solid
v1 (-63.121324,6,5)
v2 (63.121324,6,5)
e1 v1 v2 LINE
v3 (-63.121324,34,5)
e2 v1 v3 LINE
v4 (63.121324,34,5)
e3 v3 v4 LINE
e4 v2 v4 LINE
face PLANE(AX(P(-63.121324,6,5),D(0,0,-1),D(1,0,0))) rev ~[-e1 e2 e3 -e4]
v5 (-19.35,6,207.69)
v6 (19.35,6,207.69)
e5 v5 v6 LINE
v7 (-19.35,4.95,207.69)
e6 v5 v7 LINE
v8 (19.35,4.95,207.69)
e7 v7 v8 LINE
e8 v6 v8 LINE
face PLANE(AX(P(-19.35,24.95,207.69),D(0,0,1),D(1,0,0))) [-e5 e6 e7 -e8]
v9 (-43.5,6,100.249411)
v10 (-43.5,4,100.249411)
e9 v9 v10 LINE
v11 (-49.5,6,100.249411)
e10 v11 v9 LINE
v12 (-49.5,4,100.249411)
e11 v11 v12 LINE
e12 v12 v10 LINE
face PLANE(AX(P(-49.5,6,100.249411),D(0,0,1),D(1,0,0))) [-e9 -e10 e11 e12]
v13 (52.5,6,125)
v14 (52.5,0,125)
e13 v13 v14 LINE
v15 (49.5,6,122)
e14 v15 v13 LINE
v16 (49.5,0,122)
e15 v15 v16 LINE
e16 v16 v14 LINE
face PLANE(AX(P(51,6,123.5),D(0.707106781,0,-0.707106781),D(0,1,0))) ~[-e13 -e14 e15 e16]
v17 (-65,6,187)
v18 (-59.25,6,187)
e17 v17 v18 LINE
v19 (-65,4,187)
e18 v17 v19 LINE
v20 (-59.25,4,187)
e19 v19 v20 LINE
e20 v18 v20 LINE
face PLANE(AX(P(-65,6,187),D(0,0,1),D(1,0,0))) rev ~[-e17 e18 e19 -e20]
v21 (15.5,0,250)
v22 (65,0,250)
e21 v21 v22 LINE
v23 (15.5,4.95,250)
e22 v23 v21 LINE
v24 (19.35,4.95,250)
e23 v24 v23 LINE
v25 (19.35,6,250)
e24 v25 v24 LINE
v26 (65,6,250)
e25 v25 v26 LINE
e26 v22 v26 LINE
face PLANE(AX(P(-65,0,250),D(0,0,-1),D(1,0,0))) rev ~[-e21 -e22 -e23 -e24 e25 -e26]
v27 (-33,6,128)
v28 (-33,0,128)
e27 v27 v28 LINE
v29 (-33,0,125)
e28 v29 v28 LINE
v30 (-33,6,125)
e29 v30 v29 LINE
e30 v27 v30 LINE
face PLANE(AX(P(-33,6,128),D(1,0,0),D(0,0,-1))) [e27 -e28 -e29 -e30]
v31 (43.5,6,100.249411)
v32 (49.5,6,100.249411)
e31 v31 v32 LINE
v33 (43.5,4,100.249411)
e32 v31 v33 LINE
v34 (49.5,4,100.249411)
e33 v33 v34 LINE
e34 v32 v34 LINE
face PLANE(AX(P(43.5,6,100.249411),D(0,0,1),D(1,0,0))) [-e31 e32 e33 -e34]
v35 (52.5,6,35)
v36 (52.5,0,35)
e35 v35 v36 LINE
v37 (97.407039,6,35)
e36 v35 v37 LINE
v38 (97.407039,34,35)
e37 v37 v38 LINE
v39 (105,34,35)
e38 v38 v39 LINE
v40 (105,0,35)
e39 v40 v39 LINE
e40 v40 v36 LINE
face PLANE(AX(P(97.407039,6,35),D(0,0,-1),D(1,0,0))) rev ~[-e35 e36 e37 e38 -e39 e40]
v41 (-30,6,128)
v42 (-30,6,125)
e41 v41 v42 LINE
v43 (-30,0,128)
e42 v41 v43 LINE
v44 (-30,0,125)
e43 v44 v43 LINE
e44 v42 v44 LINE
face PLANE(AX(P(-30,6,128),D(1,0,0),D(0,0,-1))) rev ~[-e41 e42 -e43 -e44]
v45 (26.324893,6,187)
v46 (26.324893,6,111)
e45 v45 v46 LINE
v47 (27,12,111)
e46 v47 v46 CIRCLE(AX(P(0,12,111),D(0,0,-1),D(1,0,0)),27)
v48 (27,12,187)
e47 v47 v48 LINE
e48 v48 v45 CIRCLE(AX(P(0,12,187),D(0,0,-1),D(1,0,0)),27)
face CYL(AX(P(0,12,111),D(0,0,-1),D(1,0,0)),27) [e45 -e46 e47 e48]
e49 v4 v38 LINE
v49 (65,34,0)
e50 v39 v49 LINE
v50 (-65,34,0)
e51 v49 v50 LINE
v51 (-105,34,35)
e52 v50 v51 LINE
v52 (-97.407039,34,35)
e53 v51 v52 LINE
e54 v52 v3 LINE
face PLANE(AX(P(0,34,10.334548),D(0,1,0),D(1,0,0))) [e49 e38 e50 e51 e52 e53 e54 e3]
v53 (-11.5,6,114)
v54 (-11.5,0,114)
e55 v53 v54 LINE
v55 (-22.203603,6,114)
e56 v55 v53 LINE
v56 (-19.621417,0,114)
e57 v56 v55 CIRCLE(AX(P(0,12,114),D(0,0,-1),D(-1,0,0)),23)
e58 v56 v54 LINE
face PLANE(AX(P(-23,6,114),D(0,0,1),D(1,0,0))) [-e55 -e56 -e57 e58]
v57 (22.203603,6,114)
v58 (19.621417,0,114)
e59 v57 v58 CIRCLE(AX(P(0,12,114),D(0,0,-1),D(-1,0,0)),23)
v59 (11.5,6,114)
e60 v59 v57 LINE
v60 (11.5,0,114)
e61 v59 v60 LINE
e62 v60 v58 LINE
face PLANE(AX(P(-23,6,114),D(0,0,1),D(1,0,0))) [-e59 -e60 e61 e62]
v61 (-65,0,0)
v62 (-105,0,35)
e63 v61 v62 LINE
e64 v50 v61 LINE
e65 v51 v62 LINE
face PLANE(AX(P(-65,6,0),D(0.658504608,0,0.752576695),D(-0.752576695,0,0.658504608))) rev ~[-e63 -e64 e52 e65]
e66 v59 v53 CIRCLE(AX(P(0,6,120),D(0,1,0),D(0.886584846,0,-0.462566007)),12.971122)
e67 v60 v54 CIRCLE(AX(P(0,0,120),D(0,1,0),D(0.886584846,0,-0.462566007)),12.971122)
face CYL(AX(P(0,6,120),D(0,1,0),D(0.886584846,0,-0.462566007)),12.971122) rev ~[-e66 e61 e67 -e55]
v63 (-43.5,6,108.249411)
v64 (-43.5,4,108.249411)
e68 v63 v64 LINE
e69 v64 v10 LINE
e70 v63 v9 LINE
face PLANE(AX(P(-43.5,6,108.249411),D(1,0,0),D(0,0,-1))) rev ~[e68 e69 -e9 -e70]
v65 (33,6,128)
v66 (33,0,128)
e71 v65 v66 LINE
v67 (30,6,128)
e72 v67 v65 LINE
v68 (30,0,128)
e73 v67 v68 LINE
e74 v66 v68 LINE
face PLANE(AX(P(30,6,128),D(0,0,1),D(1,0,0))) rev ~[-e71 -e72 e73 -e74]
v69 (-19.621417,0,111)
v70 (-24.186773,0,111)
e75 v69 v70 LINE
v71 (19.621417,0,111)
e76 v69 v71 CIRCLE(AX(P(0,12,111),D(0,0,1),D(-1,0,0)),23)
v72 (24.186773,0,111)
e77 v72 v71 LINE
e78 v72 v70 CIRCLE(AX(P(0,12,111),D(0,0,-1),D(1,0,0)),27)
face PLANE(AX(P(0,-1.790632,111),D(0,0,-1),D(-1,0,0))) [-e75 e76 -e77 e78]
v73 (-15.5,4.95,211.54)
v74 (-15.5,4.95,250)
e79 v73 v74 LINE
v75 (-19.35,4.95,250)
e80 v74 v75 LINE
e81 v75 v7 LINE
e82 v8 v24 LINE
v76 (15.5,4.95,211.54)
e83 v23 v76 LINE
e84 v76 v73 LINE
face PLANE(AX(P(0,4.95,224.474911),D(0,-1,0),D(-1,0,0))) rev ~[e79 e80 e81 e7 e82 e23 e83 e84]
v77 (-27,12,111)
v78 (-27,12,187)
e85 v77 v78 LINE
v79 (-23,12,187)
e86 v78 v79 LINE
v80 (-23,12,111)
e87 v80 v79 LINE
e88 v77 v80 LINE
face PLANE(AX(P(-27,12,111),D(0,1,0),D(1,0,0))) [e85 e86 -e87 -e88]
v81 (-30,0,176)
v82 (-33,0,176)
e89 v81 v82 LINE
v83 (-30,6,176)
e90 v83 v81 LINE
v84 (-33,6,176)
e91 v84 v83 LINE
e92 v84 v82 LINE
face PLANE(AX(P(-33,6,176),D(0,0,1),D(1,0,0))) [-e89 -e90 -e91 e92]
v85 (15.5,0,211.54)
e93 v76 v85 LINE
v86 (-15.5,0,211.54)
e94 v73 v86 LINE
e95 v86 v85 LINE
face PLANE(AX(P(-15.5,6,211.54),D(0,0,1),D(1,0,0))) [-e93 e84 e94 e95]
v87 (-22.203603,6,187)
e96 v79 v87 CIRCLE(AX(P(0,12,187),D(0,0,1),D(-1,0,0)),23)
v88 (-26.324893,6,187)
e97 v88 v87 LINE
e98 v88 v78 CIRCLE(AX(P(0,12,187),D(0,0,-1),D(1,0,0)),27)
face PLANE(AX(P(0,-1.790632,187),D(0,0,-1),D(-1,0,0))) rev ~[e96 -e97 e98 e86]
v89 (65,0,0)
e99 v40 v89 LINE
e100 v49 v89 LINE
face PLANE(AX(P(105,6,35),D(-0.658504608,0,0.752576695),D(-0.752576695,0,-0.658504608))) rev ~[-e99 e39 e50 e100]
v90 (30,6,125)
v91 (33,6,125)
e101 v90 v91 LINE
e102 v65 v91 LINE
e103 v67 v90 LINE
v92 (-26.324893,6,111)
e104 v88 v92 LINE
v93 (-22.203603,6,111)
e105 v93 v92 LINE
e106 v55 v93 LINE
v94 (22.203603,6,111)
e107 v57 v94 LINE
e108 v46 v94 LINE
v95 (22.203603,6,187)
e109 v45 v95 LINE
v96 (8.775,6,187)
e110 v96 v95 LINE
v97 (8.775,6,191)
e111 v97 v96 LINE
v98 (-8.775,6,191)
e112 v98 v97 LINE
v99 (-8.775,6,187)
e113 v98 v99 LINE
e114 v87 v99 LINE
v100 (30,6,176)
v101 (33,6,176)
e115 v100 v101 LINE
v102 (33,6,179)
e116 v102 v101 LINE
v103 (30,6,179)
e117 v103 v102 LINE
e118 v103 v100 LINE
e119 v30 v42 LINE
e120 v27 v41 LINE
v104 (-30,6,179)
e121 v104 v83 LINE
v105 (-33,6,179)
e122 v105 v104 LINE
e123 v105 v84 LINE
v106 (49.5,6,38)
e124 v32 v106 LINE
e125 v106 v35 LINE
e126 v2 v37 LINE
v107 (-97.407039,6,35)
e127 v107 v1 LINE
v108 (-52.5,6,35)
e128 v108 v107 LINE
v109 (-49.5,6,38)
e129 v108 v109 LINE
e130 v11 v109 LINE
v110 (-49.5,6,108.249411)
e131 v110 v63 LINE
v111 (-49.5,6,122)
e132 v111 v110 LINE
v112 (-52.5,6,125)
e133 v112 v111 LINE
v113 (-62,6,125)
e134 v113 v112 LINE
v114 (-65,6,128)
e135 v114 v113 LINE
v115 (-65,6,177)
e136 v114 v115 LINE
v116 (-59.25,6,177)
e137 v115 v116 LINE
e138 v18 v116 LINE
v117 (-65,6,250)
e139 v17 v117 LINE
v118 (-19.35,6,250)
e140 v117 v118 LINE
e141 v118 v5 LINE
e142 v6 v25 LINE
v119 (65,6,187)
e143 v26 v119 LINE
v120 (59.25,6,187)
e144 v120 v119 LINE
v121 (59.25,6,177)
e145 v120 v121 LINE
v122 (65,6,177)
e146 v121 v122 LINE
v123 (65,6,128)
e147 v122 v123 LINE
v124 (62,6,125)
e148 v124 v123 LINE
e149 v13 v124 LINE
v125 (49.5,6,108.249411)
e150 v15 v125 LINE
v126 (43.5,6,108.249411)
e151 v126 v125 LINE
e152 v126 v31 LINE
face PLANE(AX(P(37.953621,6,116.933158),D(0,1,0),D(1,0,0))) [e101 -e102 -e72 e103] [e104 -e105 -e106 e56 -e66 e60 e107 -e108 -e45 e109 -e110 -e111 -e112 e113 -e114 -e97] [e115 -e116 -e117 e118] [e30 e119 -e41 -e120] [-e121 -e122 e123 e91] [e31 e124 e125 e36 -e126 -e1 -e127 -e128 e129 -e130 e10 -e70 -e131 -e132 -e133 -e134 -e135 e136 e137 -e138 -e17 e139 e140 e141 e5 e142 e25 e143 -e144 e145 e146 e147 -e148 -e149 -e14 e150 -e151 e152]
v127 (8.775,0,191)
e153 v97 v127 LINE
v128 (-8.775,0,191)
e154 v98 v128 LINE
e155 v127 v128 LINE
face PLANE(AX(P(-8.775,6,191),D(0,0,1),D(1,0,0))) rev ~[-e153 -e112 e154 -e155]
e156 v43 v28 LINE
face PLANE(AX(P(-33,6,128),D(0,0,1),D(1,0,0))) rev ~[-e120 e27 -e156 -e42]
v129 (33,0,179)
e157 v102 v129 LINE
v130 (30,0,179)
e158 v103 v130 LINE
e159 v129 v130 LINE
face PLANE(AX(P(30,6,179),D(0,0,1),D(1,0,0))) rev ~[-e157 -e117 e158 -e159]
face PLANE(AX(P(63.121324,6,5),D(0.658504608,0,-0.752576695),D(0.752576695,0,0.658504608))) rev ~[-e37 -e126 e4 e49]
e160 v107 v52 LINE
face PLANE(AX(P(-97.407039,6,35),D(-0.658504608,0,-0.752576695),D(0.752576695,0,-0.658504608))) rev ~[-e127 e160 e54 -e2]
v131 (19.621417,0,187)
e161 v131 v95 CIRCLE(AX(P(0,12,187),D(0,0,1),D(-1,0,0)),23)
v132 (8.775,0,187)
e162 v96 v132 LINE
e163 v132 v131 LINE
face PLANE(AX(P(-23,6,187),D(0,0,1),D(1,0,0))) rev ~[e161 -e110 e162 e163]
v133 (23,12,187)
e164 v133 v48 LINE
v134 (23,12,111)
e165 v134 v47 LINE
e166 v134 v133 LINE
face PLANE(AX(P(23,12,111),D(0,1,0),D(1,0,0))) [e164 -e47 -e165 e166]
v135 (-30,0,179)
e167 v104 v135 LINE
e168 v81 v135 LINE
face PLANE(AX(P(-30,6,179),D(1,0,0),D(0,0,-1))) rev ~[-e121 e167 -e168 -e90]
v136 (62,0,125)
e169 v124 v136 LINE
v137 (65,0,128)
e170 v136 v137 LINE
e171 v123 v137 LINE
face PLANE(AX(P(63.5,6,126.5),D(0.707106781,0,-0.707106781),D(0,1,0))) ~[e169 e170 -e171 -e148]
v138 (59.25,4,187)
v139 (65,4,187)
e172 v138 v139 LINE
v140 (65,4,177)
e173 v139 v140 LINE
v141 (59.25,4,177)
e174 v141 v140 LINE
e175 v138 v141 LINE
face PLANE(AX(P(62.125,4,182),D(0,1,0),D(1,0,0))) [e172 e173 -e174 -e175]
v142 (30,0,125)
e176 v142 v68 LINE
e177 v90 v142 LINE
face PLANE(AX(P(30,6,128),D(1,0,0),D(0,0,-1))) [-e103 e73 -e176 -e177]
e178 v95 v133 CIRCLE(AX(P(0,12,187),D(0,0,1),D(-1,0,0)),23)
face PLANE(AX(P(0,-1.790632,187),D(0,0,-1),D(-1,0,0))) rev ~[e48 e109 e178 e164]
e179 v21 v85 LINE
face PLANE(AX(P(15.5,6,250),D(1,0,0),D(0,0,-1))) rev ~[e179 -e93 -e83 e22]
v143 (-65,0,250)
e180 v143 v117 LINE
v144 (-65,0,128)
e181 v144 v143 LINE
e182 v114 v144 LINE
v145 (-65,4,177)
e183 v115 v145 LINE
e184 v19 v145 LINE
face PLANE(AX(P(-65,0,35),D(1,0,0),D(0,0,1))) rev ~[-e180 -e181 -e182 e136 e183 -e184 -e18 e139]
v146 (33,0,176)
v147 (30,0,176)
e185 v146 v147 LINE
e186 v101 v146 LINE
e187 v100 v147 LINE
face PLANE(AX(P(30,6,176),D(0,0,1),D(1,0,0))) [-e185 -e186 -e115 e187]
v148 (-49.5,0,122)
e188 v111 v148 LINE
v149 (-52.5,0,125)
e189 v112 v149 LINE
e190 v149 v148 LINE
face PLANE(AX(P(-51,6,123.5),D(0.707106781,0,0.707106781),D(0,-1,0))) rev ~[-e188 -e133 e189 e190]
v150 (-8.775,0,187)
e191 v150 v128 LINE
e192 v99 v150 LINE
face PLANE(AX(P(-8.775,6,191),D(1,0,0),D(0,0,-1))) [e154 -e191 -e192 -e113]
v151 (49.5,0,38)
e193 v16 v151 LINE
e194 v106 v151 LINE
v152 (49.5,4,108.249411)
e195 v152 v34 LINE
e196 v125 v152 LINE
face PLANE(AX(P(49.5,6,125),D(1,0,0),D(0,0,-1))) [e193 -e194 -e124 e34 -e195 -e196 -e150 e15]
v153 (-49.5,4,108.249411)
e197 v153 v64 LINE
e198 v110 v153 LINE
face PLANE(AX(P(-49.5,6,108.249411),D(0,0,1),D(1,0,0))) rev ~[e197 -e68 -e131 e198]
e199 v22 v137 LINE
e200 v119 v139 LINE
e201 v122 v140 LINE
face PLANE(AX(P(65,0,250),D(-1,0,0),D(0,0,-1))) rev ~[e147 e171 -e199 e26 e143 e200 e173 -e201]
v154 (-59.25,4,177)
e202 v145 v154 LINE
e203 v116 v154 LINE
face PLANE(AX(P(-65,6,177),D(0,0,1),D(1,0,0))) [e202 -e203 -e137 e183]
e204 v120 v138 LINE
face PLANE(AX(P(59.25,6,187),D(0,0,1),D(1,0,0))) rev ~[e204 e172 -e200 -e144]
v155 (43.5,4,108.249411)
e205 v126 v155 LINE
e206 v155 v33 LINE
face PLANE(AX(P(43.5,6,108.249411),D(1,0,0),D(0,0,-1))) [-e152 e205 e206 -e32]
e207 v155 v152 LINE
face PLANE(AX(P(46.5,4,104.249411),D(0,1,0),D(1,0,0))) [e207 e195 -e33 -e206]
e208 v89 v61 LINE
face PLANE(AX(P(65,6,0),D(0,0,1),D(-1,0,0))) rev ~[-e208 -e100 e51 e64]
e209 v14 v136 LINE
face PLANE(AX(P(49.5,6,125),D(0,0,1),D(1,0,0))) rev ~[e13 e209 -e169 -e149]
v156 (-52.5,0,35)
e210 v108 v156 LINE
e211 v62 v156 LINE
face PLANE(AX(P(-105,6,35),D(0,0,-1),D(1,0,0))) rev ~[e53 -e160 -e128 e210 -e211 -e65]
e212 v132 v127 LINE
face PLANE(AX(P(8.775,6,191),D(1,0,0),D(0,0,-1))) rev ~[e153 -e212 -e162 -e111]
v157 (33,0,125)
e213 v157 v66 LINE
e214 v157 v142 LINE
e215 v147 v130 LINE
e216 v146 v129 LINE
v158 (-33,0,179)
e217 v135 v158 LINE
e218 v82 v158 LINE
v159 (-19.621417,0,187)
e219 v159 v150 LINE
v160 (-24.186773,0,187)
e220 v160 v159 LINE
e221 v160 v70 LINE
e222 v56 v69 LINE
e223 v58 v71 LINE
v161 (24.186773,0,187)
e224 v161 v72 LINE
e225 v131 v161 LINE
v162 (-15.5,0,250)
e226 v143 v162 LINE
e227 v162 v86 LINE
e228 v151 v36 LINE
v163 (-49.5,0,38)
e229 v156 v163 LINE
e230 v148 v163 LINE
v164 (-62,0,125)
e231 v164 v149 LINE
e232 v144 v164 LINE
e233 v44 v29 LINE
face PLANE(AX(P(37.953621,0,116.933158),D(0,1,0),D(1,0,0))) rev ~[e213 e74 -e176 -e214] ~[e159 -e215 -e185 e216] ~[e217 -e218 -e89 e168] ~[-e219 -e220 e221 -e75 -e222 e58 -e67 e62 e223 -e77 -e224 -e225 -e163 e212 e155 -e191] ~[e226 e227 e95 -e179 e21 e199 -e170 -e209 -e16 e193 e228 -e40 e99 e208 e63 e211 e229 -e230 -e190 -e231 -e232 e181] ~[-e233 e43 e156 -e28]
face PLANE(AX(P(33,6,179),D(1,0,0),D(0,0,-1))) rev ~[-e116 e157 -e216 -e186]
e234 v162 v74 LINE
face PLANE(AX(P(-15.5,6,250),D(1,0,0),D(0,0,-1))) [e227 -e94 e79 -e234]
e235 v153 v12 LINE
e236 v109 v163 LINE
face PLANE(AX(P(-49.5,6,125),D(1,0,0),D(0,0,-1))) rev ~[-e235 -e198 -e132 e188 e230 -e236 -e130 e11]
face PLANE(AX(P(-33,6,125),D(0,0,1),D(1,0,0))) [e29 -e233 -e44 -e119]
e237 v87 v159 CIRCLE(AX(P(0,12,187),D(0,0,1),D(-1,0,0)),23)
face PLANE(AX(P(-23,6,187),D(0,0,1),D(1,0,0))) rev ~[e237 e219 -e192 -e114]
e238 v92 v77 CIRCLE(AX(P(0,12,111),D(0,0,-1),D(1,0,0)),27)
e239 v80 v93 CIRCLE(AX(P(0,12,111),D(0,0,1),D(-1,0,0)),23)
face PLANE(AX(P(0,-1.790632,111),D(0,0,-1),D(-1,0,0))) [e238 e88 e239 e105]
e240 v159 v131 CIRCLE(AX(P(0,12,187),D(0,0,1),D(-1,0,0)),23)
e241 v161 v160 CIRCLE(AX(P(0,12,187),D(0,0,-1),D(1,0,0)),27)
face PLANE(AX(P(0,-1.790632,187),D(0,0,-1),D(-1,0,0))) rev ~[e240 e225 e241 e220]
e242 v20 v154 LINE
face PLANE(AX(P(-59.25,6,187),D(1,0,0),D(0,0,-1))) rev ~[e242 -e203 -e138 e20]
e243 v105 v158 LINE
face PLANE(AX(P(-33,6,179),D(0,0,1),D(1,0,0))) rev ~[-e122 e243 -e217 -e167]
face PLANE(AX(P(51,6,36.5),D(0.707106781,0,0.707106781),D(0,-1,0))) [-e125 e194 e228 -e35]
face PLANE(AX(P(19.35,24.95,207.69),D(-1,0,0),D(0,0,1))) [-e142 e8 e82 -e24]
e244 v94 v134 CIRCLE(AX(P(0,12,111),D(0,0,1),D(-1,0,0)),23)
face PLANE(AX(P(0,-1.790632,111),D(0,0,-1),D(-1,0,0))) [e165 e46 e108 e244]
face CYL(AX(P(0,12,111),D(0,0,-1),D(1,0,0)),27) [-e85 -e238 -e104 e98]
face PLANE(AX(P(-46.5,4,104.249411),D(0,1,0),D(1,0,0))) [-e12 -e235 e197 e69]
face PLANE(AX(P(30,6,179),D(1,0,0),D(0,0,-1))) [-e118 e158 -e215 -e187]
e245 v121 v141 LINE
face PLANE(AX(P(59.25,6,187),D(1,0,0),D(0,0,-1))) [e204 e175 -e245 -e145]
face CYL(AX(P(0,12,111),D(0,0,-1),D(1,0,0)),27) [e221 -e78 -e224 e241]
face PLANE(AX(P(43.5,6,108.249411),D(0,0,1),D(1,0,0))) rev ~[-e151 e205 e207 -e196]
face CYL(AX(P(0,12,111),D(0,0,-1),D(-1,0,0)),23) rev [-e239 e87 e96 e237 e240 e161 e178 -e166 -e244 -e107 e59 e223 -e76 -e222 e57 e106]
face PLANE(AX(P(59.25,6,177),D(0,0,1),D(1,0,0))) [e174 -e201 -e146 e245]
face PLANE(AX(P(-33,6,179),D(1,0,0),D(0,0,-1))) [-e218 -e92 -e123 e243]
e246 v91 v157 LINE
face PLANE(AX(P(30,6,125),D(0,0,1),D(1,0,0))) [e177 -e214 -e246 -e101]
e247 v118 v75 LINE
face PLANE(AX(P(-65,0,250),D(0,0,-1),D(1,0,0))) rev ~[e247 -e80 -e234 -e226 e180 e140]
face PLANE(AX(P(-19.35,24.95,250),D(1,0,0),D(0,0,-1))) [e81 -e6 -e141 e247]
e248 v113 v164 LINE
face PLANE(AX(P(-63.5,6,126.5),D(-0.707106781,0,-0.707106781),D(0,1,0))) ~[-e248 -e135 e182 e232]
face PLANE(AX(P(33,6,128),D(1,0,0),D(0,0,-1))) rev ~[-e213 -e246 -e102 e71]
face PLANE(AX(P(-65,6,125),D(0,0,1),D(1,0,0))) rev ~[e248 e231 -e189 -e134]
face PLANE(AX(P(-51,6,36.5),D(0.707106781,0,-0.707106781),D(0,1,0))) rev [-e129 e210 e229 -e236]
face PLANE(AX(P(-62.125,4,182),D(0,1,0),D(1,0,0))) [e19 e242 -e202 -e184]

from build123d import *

# Parameters (mm, degrees)
BOSS_EXTRUDE1_DEPTH      = 6
BOSS_EXTRUDE2_DEPTH      = 28
SKETCH5_W                = 15.5
SKETCH5_H                = 90
CUT_EXTRUDE2_DEPTH       = 273.596771808
CHAMFER2_SIZE            = 3
SKETCH8_W                = 46
SKETCH8_H                = 73
CUT_EXTRUDE4_DEPTH       = 23
BOSS_EXTRUDE5_DEPTH      = 73
BOSS_EXTRUDE5_DEPTH_BACK = 3
BOSS_EXTRUDE5_START      = 114
BOSS_EXTRUDE6_DEPTH      = 18.95
SKETCH11_W               = 31
SKETCH11_H               = 38.46
CUT_EXTRUDE5_DEPTH       = 19.03
CUT_EXTRUDE7_START       = 18.95
CUT_EXTRUDE7_DEPTH       = 20
CUT_EXTRUDE8_REACH       = 274.597
CUT_EXTRUDE9_REACH       = 274.597
SKETCH13_W               = 17.55
SKETCH13_H               = 4
CUT_EXTRUDE10_REACH      = 274.597
SKETCH14_W               = 3
SKETCH14_H               = 3
SKETCH15_W               = 6
SKETCH15_H               = 8
SKETCH15_W_2             = 5.75
SKETCH15_H_2             = 10
CUT_EXTRUDE11_DEPTH      = 2


with BuildPart() as part:
    # Sketch1 → Boss-Extrude1 (new body)
    with BuildSketch(Plane(origin=(0, 0, 0), x_dir=(1, 0, 0), z_dir=(0, 1, 0))):
        Polygon((105, -35), (65, 0), (0, 0), (0, -250), (65, -250), (65, -35), align=None)
        Polygon((0, -250), (0, 0), (-65, 0), (-105, -35), (-65, -35), (-65, -250), align=None)
    extrude(amount=BOSS_EXTRUDE1_DEPTH)

    # Sketch2 → Boss-Extrude2 (add)
    with BuildSketch(Plane(origin=(0, 6, 0), x_dir=(1, 0, 0), z_dir=(0, 1, 0))):
        Polygon((-105, -35), (-97.407038705, -35), (-63.121324419, -5), (63.121324419, -5), (97.407038705, -35), (105, -35), (65, 0), (-65, 0), align=None)
    extrude(amount=BOSS_EXTRUDE2_DEPTH)

    # Sketch5 → Cut-Extrude2 (cut, through all)
    with BuildSketch(Plane(origin=(0, 6, 0), x_dir=(1, 0, 0), z_dir=(0, 1, 0))):
        with Locations((-57.25, -80)):
            Rectangle(SKETCH5_W, SKETCH5_H)
        with Locations((57.25, -80)):
            Rectangle(SKETCH5_W, SKETCH5_H)
    extrude(amount=-CUT_EXTRUDE2_DEPTH, mode=Mode.SUBTRACT)

    # Chamfer2
    chamfer2_edges = [part.edges().sort_by_distance(p)[0] for p in [
        (-65, 3, 125),
        (-49.5, 3, 35),
        (-49.5, 3, 125),
        (65, 3, 125),
        (49.5, 3, 125),
        (49.5, 3, 35),
    ]]
    chamfer(chamfer2_edges, length=CHAMFER2_SIZE)

    # Sketch8 → Cut-Extrude4 (cut)
    with BuildSketch(Plane(origin=(0, 6, 0), x_dir=(1, 0, 0), z_dir=(0, 1, 0))):
        with Locations((0, -150.5)):
            Rectangle(SKETCH8_W, SKETCH8_H)
    extrude(amount=-CUT_EXTRUDE4_DEPTH, mode=Mode.SUBTRACT)

    # Sketch9 → Boss-Extrude5 (add, two sides: drawn at the far end of the back side and taken through both)
    with BuildSketch(Plane.XY.offset(BOSS_EXTRUDE5_START - BOSS_EXTRUDE5_DEPTH_BACK)):
        with BuildLine():
            Line((-27, 12), (-23, 12))
            ThreePointArc((-23, 12), (0, -11), (23, 12))
            Line((23, 12), (27, 12))
            ThreePointArc((27, 12), (0, -15), (-27, 12))
        make_face()
    extrude(amount=BOSS_EXTRUDE5_DEPTH + BOSS_EXTRUDE5_DEPTH_BACK)

    # Sketch10 → Boss-Extrude6 (add)
    with BuildSketch(Plane(origin=(0, 6, 0), x_dir=(1, 0, 0), z_dir=(0, 1, 0))):
        Polygon((-19.35, -250), (-19.35, -207.69), (19.35, -207.69), (19.35, -250), (15.5, -250), (15.5, -211.54), (-15.5, -211.54), (-15.5, -250), align=None)
    extrude(amount=BOSS_EXTRUDE6_DEPTH)

    # Sketch11 → Cut-Extrude5 (cut)
    with BuildSketch(Plane(origin=(0, 6, 0), x_dir=(1, 0, 0), z_dir=(0, 1, 0))):
        with Locations((0, -230.77)):
            Rectangle(SKETCH11_W, SKETCH11_H)
    extrude(amount=-CUT_EXTRUDE5_DEPTH, mode=Mode.SUBTRACT)

    # Sketch10<3> → Cut-Extrude7 (cut)
    with BuildSketch(Plane(origin=(0, 6, 0), x_dir=(1, 0, 0), z_dir=(0, 1, 0)).offset(CUT_EXTRUDE7_START)):
        Polygon((-19.35, -250), (-19.35, -207.69), (19.35, -207.69), (19.35, -250), (15.5, -250), (15.5, -211.54), (-15.5, -211.54), (-15.5, -250), align=None)
    extrude(amount=-CUT_EXTRUDE7_DEPTH, mode=Mode.SUBTRACT)

    # Sketch12 → Cut-Extrude8 (cut, up to next)
    with BuildSketch(Plane(origin=(0, 6, 0), x_dir=(1, 0, 0), z_dir=(0, 1, 0)), mode=Mode.PRIVATE) as cut_extrude8_sk1:
        with BuildLine():
            Line((-11.5, -114), (11.5, -114))
            ThreePointArc((11.5, -114), (0, -107.028878229), (-11.5, -114))
        make_face()
    cut_extrude8_tool1 = extrude(cut_extrude8_sk1.sketch, amount=-CUT_EXTRUDE8_REACH, mode=Mode.PRIVATE) & part.part
    add(cut_extrude8_tool1.solids().sort_by_distance((0, 6, 111.135325))[0], mode=Mode.SUBTRACT)

    # Sketch13 → Cut-Extrude9 (cut, up to next)
    with BuildSketch(Plane(origin=(0, 6, 0), x_dir=(1, 0, 0), z_dir=(0, 1, 0)), mode=Mode.PRIVATE) as cut_extrude9_sk1:
        with Locations((0, -189)):
            Rectangle(SKETCH13_W, SKETCH13_H)
    cut_extrude9_tool1 = extrude(cut_extrude9_sk1.sketch, amount=-CUT_EXTRUDE9_REACH, mode=Mode.PRIVATE) & part.part
    add(cut_extrude9_tool1.solids().sort_by_distance((0, 6, 189))[0], mode=Mode.SUBTRACT)

    # Sketch14 → Cut-Extrude10 (cut, up to next)
    with BuildSketch(Plane(origin=(0, 6, 0), x_dir=(1, 0, 0), z_dir=(0, 1, 0)), mode=Mode.PRIVATE) as cut_extrude10_sk1:
        with Locations((-31.5, -126.5)):
            Rectangle(SKETCH14_W, SKETCH14_H)
    cut_extrude10_tool1 = extrude(cut_extrude10_sk1.sketch, amount=-CUT_EXTRUDE10_REACH, mode=Mode.PRIVATE) & part.part
    # Sketch14 → Cut-Extrude10 (cut, up to next)
    with BuildSketch(Plane(origin=(0, 6, 0), x_dir=(1, 0, 0), z_dir=(0, 1, 0)), mode=Mode.PRIVATE) as cut_extrude10_sk2:
        with Locations((-31.5, -177.5)):
            Rectangle(SKETCH14_W, SKETCH14_H)
    cut_extrude10_tool2 = extrude(cut_extrude10_sk2.sketch, amount=-CUT_EXTRUDE10_REACH, mode=Mode.PRIVATE) & part.part
    # Sketch14 → Cut-Extrude10 (cut, up to next)
    with BuildSketch(Plane(origin=(0, 6, 0), x_dir=(1, 0, 0), z_dir=(0, 1, 0)), mode=Mode.PRIVATE) as cut_extrude10_sk3:
        with Locations((31.5, -126.5)):
            Rectangle(SKETCH14_W, SKETCH14_H)
    cut_extrude10_tool3 = extrude(cut_extrude10_sk3.sketch, amount=-CUT_EXTRUDE10_REACH, mode=Mode.PRIVATE) & part.part
    # Sketch14 → Cut-Extrude10 (cut, up to next)
    with BuildSketch(Plane(origin=(0, 6, 0), x_dir=(1, 0, 0), z_dir=(0, 1, 0)), mode=Mode.PRIVATE) as cut_extrude10_sk4:
        with Locations((31.5, -177.5)):
            Rectangle(SKETCH14_W, SKETCH14_H)
    cut_extrude10_tool4 = extrude(cut_extrude10_sk4.sketch, amount=-CUT_EXTRUDE10_REACH, mode=Mode.PRIVATE) & part.part
    add(cut_extrude10_tool1.solids().sort_by_distance((-31.5, 6, 126.5))[0], mode=Mode.SUBTRACT)
    add(cut_extrude10_tool2.solids().sort_by_distance((-31.5, 6, 177.5))[0], mode=Mode.SUBTRACT)
    add(cut_extrude10_tool3.solids().sort_by_distance((31.5, 6, 126.5))[0], mode=Mode.SUBTRACT)
    add(cut_extrude10_tool4.solids().sort_by_distance((31.5, 6, 177.5))[0], mode=Mode.SUBTRACT)

    # Sketch15 → Cut-Extrude11 (cut)
    with BuildSketch(Plane(origin=(0, 6, 0), x_dir=(1, 0, 0), z_dir=(0, 1, 0))):
        with Locations((-46.5, -104.24941096)):
            Rectangle(SKETCH15_W, SKETCH15_H)
        with Locations((-62.125, -182)):
            Rectangle(SKETCH15_W_2, SKETCH15_H_2)
        with Locations((62.125, -182)):
            Rectangle(SKETCH15_W_2, SKETCH15_H_2)
        with Locations((46.5, -104.24941096)):
            Rectangle(SKETCH15_W, SKETCH15_H)
    extrude(amount=-CUT_EXTRUDE11_DEPTH, mode=Mode.SUBTRACT)


solid = part.part
